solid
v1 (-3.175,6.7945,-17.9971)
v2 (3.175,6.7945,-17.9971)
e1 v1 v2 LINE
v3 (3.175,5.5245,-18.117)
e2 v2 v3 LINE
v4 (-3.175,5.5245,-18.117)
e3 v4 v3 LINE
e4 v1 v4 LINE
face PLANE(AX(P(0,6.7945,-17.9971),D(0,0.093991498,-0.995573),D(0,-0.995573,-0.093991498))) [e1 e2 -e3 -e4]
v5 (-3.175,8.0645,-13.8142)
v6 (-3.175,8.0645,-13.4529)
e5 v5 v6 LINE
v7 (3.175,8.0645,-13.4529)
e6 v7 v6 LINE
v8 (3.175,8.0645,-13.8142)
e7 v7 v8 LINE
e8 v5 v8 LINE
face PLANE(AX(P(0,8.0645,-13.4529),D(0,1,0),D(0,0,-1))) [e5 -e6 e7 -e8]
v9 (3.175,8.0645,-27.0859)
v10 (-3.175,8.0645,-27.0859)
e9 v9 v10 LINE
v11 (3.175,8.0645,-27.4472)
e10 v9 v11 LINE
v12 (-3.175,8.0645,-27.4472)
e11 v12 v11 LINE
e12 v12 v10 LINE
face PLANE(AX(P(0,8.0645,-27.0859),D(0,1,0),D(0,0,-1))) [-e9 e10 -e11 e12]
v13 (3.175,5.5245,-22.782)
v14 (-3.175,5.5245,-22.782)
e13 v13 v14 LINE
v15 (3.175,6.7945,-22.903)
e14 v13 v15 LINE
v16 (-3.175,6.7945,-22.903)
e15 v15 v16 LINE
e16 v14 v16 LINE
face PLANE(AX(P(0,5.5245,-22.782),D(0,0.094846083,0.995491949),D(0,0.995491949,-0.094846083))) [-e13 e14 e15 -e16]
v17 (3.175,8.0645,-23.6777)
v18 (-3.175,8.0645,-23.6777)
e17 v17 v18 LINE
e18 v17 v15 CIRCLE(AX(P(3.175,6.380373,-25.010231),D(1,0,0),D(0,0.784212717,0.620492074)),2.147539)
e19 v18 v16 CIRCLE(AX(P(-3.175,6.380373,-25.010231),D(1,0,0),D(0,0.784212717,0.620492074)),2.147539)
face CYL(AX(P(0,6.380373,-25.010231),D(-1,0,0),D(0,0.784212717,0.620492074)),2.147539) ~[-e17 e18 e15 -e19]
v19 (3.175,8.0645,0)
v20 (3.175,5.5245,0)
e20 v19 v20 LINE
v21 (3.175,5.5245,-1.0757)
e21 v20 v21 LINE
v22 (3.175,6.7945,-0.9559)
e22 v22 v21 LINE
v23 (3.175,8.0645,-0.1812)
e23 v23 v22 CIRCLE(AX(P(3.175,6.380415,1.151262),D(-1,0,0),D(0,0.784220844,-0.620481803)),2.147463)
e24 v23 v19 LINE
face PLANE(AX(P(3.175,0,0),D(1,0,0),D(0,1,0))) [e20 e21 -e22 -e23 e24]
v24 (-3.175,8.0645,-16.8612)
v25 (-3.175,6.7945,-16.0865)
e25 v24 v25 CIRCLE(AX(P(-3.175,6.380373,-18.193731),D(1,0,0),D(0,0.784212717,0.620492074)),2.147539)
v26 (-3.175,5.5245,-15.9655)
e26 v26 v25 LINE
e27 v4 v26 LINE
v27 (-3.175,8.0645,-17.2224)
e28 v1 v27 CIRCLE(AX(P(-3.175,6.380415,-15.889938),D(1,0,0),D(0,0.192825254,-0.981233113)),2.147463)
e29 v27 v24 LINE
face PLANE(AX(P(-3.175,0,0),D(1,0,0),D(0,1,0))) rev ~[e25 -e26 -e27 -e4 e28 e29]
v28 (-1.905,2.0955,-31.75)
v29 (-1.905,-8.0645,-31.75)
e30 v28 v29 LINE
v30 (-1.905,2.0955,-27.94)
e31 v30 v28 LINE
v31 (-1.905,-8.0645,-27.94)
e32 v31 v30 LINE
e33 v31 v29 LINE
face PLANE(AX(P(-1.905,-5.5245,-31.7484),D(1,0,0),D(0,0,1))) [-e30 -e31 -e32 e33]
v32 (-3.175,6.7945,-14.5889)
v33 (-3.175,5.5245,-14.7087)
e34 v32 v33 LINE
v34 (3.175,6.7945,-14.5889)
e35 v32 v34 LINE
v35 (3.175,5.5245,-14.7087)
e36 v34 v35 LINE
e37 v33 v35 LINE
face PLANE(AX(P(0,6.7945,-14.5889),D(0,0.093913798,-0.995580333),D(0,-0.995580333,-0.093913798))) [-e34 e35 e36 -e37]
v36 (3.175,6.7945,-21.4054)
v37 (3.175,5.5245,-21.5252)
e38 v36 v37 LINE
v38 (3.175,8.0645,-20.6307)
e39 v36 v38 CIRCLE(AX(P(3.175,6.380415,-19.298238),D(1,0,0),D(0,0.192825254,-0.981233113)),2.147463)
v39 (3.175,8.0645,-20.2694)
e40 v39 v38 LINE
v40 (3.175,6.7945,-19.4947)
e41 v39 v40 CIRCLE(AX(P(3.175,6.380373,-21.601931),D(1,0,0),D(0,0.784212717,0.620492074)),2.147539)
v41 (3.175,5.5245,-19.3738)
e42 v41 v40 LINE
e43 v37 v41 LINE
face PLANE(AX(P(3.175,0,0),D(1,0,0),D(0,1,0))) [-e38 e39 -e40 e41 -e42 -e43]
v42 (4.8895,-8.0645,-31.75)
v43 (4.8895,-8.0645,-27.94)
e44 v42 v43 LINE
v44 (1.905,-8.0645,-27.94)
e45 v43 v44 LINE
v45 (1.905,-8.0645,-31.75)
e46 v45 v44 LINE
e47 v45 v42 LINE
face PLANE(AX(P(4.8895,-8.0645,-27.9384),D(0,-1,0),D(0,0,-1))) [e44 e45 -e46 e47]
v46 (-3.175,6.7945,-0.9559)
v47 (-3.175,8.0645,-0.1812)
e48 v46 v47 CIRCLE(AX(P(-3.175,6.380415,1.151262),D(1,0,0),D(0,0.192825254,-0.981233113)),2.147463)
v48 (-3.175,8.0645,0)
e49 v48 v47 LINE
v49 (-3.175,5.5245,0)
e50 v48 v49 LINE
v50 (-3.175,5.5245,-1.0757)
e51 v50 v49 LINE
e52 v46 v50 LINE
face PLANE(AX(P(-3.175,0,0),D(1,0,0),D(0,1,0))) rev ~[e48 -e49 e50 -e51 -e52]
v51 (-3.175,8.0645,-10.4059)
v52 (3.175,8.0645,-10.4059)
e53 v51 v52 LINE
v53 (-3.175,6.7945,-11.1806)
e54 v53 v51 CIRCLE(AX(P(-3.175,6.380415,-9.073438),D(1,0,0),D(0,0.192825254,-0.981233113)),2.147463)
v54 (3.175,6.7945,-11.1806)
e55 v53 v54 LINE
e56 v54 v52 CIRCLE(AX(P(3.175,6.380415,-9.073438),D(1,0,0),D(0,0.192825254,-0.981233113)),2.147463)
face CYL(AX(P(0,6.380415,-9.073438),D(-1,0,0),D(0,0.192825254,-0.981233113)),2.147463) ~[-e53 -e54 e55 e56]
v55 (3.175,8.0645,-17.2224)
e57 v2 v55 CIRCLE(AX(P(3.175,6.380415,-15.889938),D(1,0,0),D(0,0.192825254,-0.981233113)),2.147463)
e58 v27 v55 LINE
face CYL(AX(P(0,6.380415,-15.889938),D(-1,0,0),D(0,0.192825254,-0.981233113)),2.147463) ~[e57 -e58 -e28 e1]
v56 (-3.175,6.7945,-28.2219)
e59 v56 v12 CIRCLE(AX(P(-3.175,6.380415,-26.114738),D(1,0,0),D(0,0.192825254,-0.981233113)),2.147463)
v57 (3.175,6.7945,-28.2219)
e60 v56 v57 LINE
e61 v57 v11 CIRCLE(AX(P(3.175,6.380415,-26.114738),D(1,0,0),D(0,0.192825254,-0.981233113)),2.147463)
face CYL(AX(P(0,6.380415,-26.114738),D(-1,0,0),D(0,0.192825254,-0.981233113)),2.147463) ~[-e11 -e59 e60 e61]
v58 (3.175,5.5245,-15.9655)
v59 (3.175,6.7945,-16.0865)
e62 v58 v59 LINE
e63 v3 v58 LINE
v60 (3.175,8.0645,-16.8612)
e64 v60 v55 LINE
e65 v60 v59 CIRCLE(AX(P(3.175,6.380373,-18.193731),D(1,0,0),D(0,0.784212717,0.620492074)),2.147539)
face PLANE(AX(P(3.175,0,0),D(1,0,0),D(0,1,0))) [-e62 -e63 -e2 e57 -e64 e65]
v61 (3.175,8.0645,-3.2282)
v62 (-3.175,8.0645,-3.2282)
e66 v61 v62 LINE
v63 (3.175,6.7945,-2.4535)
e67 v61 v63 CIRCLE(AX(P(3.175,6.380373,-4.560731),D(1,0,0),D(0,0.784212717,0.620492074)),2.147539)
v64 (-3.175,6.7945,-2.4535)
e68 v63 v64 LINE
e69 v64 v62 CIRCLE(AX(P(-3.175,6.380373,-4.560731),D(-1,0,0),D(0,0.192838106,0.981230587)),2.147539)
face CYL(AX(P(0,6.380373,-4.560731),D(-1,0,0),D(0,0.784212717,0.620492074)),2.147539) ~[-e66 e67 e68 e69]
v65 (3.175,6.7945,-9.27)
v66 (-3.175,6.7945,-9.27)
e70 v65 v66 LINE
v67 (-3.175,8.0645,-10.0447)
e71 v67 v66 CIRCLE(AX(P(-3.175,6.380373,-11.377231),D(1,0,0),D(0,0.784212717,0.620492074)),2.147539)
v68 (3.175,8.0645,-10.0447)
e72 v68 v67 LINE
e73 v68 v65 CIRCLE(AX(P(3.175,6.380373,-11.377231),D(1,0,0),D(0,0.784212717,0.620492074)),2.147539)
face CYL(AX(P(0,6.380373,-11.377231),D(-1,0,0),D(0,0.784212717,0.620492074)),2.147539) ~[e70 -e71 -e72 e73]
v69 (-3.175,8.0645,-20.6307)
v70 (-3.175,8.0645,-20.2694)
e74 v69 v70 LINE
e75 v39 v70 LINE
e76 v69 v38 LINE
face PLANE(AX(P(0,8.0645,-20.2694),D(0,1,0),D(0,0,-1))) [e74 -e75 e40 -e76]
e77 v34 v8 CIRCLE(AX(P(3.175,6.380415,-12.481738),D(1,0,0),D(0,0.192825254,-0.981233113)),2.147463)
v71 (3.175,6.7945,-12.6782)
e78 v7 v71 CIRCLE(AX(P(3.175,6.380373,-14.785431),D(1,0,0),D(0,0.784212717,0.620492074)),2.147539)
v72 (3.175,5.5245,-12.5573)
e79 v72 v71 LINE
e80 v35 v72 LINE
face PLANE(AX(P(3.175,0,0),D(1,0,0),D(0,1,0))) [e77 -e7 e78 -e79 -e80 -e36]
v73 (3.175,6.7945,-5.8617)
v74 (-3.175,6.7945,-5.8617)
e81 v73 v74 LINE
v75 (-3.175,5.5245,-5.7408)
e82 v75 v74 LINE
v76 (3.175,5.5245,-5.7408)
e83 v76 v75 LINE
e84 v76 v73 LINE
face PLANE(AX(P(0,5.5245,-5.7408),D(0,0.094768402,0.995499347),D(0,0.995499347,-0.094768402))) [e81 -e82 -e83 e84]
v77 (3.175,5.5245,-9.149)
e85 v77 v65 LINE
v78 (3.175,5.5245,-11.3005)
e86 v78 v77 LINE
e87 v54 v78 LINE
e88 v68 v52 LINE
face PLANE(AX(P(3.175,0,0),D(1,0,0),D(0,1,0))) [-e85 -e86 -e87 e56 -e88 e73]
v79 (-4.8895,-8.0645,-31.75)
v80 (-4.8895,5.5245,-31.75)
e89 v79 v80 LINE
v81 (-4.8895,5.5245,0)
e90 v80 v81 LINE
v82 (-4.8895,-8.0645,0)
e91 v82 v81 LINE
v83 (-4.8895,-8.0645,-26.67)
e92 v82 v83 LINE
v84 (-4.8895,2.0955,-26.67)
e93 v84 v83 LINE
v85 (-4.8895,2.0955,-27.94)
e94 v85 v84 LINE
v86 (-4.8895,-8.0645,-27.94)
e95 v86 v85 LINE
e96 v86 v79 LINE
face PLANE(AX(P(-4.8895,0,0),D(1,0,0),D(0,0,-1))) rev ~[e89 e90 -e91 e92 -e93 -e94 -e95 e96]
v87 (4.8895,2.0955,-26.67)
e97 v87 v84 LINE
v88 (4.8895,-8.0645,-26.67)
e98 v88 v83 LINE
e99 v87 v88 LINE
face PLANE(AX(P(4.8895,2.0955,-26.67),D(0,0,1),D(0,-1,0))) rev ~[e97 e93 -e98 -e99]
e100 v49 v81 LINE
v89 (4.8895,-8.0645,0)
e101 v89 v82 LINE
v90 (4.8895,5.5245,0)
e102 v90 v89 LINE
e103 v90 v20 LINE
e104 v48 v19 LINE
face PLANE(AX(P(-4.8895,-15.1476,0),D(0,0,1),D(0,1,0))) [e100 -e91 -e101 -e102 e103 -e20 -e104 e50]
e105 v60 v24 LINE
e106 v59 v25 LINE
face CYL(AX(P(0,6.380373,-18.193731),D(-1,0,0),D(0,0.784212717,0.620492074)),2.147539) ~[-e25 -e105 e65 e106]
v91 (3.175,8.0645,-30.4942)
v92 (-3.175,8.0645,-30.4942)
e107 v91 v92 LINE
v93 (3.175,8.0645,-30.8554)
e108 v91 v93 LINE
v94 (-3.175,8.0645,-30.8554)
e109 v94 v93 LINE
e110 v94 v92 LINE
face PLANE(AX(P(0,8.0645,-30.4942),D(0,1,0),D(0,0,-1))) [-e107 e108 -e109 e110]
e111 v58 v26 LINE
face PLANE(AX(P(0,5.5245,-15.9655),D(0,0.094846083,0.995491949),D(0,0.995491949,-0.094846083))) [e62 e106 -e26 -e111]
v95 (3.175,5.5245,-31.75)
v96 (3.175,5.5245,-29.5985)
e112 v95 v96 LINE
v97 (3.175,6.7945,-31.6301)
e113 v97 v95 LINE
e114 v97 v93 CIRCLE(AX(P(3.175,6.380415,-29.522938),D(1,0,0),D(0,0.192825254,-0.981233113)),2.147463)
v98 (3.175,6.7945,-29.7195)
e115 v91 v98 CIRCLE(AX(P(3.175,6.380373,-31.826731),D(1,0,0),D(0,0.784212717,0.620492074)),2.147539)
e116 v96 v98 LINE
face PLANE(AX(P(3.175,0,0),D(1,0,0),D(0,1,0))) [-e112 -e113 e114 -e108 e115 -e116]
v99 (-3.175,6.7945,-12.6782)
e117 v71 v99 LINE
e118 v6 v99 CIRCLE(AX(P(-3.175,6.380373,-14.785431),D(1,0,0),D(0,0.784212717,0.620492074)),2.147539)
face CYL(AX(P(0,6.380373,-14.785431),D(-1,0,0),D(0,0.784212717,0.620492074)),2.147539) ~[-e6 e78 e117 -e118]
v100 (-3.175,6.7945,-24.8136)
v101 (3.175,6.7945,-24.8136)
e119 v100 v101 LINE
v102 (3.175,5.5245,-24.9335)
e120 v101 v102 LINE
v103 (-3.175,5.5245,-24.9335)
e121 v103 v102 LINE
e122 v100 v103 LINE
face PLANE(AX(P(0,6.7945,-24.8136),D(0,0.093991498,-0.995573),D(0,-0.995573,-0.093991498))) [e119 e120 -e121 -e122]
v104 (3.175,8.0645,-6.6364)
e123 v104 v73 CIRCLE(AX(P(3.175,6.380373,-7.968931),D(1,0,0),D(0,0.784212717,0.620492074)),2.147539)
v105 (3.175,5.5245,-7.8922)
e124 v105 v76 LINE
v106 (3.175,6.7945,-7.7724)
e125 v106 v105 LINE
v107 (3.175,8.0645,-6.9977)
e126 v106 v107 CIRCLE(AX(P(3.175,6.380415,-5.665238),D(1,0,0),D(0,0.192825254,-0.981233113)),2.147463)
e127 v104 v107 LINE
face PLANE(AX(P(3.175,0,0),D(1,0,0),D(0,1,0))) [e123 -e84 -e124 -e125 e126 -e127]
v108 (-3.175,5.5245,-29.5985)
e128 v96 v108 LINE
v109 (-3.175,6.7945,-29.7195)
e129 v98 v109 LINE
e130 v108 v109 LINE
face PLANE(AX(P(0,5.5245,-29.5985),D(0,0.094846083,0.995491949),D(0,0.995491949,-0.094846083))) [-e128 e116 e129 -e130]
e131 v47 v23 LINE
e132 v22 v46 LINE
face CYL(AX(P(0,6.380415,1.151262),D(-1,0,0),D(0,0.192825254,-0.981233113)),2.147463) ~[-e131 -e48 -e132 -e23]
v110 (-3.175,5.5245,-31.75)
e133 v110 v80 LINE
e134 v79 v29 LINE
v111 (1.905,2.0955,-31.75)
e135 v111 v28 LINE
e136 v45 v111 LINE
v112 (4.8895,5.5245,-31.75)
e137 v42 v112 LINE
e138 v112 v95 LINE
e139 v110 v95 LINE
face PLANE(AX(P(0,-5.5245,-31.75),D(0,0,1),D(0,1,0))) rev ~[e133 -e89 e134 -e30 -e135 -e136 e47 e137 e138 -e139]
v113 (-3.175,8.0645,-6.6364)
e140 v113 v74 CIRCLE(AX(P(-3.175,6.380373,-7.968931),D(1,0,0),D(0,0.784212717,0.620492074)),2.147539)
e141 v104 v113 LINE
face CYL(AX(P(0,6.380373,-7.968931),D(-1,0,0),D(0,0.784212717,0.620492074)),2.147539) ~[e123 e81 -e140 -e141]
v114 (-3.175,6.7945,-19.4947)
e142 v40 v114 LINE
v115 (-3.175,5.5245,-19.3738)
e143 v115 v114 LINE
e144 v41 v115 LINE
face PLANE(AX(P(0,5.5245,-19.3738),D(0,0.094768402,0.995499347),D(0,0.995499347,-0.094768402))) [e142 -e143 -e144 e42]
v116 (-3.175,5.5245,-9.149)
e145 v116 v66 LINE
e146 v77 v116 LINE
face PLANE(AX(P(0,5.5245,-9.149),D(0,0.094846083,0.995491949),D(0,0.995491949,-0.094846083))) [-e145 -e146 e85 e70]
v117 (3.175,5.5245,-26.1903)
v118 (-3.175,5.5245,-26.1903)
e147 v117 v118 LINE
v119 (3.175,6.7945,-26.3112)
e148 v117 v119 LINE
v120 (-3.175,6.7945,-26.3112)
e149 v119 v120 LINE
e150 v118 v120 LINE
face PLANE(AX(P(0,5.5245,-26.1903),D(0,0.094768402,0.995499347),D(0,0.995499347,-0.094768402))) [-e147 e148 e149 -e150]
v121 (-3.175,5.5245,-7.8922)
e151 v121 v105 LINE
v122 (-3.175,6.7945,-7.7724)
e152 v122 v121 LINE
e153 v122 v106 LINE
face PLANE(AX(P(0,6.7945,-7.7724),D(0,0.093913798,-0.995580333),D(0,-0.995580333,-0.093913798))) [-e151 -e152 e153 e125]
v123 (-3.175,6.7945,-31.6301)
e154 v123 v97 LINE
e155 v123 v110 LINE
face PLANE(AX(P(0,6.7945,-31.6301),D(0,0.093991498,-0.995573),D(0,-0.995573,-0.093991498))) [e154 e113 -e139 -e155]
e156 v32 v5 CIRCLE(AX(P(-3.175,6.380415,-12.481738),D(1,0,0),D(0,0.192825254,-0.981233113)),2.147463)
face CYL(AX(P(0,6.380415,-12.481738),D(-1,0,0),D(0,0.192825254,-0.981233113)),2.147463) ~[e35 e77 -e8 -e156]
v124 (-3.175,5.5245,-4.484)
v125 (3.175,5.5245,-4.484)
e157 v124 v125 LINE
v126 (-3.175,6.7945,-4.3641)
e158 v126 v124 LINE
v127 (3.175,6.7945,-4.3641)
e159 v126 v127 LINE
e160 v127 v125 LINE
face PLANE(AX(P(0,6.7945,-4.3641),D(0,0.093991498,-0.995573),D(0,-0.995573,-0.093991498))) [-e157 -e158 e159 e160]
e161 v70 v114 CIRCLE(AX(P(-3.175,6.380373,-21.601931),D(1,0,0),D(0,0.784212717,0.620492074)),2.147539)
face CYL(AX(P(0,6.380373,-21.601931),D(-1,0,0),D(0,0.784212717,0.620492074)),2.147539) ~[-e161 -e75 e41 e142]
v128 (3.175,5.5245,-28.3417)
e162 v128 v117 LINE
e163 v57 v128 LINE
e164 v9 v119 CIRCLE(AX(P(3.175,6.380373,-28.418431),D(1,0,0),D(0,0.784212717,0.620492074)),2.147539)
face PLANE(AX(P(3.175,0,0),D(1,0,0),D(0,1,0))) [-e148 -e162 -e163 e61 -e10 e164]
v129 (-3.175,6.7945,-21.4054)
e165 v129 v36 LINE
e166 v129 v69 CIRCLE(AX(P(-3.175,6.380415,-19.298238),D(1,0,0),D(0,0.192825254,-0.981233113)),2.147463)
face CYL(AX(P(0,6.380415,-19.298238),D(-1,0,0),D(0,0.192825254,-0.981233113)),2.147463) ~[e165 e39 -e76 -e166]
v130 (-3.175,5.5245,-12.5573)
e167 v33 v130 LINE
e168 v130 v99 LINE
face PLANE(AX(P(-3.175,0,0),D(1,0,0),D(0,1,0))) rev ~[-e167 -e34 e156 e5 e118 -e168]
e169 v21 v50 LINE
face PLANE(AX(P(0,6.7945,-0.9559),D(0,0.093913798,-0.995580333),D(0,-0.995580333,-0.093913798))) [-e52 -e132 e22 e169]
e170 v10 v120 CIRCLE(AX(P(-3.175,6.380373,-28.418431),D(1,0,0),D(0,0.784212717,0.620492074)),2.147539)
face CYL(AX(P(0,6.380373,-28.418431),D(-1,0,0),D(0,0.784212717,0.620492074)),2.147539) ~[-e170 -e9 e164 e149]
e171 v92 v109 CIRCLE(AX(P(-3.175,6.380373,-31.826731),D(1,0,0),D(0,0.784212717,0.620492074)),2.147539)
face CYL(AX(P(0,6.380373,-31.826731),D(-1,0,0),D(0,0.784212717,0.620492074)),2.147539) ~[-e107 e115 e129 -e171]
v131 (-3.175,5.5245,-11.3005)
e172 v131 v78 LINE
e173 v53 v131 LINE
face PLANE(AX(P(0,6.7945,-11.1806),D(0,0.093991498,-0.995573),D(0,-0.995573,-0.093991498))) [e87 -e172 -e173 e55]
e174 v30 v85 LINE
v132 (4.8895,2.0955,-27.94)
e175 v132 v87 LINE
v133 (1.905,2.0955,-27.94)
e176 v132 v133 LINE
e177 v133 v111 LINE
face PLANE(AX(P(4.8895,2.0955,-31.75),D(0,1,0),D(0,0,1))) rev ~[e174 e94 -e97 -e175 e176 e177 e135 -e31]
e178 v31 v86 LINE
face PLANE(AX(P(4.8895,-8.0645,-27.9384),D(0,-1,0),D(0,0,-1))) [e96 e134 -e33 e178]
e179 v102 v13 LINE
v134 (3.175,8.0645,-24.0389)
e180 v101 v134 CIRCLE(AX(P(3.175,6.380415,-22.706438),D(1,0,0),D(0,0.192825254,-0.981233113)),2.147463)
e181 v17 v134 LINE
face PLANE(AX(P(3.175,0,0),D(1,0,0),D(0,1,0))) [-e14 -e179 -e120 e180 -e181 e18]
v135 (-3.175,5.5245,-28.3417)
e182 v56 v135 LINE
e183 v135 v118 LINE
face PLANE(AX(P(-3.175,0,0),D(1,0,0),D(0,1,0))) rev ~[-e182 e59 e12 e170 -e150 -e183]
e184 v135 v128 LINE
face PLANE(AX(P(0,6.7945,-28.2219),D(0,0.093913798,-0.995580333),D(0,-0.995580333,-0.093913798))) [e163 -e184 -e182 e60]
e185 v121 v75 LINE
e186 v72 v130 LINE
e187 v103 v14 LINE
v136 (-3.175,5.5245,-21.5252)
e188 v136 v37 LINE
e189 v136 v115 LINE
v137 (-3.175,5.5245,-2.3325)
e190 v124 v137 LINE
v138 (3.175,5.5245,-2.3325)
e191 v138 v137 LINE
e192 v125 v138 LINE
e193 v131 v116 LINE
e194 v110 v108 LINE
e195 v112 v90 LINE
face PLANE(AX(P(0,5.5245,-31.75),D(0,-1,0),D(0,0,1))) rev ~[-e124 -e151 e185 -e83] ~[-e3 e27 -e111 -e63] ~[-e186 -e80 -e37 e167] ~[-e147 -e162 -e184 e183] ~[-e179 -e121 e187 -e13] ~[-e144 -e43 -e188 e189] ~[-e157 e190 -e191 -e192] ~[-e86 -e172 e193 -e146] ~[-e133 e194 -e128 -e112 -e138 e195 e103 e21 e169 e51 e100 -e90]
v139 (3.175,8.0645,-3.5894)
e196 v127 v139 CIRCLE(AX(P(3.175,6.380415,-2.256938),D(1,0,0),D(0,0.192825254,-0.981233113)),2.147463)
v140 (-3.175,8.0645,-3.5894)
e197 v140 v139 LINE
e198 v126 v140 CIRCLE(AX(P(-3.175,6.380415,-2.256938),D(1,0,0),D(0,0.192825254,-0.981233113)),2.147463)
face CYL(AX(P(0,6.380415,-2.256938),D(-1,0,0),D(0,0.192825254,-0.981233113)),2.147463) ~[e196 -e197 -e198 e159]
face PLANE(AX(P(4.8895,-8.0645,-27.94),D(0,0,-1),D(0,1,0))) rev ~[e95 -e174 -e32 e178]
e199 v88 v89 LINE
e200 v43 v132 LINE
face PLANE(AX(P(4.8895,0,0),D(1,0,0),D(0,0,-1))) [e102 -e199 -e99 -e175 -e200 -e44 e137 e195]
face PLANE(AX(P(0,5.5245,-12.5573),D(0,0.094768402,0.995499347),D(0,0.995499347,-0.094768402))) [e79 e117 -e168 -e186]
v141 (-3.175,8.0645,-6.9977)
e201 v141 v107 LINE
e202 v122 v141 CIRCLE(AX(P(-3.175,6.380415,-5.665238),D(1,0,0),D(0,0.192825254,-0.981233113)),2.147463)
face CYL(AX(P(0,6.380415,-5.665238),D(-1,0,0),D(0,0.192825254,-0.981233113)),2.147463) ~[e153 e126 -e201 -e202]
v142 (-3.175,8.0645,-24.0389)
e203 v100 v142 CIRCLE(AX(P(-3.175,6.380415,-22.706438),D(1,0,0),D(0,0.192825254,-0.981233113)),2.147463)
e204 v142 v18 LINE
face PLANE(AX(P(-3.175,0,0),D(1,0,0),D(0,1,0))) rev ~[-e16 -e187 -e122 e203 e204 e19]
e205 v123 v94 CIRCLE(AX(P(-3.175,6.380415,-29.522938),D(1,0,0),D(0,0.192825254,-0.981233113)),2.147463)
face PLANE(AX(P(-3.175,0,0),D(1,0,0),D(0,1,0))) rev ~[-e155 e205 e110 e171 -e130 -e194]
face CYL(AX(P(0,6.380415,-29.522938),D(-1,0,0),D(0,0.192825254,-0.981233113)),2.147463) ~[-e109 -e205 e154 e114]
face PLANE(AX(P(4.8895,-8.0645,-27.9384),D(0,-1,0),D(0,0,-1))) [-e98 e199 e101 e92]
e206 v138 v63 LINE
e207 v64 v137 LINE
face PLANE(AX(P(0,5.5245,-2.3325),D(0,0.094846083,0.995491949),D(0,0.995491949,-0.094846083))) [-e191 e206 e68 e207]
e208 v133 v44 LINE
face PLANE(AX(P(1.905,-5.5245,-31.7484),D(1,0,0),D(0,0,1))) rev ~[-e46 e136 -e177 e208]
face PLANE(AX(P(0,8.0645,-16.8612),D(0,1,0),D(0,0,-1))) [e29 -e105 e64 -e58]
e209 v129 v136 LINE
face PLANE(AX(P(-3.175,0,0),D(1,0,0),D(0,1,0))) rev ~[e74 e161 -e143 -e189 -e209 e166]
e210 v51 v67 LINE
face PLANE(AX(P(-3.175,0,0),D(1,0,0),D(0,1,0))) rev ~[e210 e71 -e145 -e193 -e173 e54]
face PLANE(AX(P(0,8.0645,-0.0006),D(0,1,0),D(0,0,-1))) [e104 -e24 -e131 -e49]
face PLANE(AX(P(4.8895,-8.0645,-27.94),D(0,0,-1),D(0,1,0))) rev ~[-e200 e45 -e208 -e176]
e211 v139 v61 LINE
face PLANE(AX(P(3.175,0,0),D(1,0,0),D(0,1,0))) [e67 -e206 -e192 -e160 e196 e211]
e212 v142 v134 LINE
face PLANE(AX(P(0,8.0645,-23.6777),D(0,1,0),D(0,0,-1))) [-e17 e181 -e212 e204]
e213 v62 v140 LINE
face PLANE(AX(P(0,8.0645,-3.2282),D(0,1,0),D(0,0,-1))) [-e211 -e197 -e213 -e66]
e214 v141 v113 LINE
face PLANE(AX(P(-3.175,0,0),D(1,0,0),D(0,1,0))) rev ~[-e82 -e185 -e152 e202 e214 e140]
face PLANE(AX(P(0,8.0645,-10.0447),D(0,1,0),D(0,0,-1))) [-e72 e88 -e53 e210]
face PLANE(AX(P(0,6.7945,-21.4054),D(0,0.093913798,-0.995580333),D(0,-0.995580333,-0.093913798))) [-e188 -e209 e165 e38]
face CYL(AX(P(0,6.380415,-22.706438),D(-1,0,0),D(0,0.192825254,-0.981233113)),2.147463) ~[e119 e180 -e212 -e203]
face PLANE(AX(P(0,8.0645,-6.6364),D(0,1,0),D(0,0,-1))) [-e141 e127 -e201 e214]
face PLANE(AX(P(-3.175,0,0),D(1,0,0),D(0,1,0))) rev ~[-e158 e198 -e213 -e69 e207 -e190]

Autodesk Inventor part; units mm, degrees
ref_plane "YZ Plane" through (0, 0, 0) normal (1, 0, 0) x (0, 1, 0)
ref_plane "XZ Plane" through (0, 0, 0) normal (0, 1, 0) x (-1, 0, 0)
ref_plane "XY Plane" through (0, 0, 0) normal (0, 0, 1) x (1, 0, 0)
sketch "Sketch2" plane through (0, 0, 0) normal (1, 0, 0) x (0, 1, 0)
  line L0 (-5.5245, 31.75) -> (-5.5245, -31.75)
  line L1 (-5.5245, -31.75) -> (5.5245, -31.75)
  line L2 (5.5245, -31.75) -> (5.5245, 31.75)
  line L3 (5.5245, 31.75) -> (-5.5245, 31.75)
  line L4 (-5.5245, 31.75) -> (5.5245, -31.75) construction
  line L5 (-5.5245, -31.75) -> (5.5245, 31.75) construction
  point P0 (0, 0)
  dimension "d4" = 63.5
  dimension "d5" = 11.049
extrude "Extrusion2" add sketch "Sketch2" along normal mid plane 9.779
sketch "Sketch3" plane through (0, 0, 0) normal (1, 0, 0) x (0, 1, 0)
  line L0 (5.5245, -31.75) -> (5.5245, 31.75) projected
  line L1 (5.5245, 31.9532) -> (5.5245, 29.4132)
  line L2 (5.5245, 31.9532) -> (5.5245, 29.4132)
  arc A0 (8.0645, 30.8543) -> (6.7945, 31.629) centre (6.3804, 29.5218) ccw
  line L3 (8.0645, 30.6737) -> (7.6408, 30.6737)
  arc A1 (6.7945, 29.7184) -> (8.0645, 30.4931) centre (6.3804, 31.8256) ccw
  line L4 (8.0645, 30.8543) -> (8.0645, 30.4931)
  line L5 (5.5245, 31.75) -> (5.5245, -31.75)
  arc A2 (8.0642, -1.6042) -> (8.0645, -1.6033) centre (6.6313, -1.0154) ccw
  line L6 (6.7945, 31.629) -> (5.5245, 31.7489)
  line L7 (6.7945, 29.7184) -> (5.5245, 29.5986)
  line L8 (5.5245, 31.7489) -> (6.7945, 31.629)
  line L9 (6.7945, 29.7184) -> (5.5245, 29.5986)
  line L10 (5.5245, 29.5986) -> (5.5245, 31.7489)
  arc A3 (8.0645, 30.8543) -> (6.7945, 31.629) centre (6.3804, 29.5218) ccw
  arc A4 (6.7945, 29.7184) -> (8.0645, 30.4931) centre (6.3804, 31.8256) ccw
  line L11 (8.0645, 30.8543) -> (8.0645, 30.4931)
  line L12 (8.0645, 27.2655) -> (7.6408, 27.2655)
  line L13 (8.0645, 27.4461) -> (8.0645, 27.0848)
  line L14 (8.0645, 27.4461) -> (8.0645, 27.0848)
  arc A5 (6.7945, 26.3101) -> (8.0645, 27.0848) centre (6.3804, 28.4173) ccw
  arc A6 (8.0645, 27.4461) -> (6.7945, 28.2208) centre (6.3804, 26.1136) ccw
  arc A7 (6.7945, 26.3101) -> (8.0645, 27.0848) centre (6.3804, 28.4173) ccw
  arc A8 (8.0645, 27.4461) -> (6.7945, 28.2208) centre (6.3804, 26.1136) ccw
  line L15 (5.5245, 28.3417) -> (5.5245, -35.1582)
  line L16 (5.5245, 28.5449) -> (5.5245, 26.0049)
  line L17 (6.7945, 26.3101) -> (5.5245, 26.1903)
  line L18 (5.5245, 28.3406) -> (6.7945, 28.2208)
  line L19 (6.7945, 26.3101) -> (5.5245, 26.1903)
  line L20 (5.5245, 26.1903) -> (5.5245, 28.3406)
  line L21 (5.5245, 28.5449) -> (5.5245, 26.0049)
  line L22 (6.7945, 28.2208) -> (5.5245, 28.3406)
  line L23 (8.0645, 23.8572) -> (7.6408, 23.8572)
  line L24 (8.0645, 24.0378) -> (8.0645, 23.6766)
  line L25 (8.0645, 24.0378) -> (8.0645, 23.6766)
  arc A9 (6.7945, 22.9019) -> (8.0645, 23.6766) centre (6.3804, 25.0091) ccw
  arc A10 (8.0645, 24.0378) -> (6.7945, 24.8125) centre (6.3804, 22.7053) ccw
  arc A11 (6.7945, 22.9019) -> (8.0645, 23.6766) centre (6.3804, 25.0091) ccw
  arc A12 (8.0645, 24.0378) -> (6.7945, 24.8125) centre (6.3804, 22.7053) ccw
  line L26 (5.5245, 24.9335) -> (5.5245, -38.5665)
  line L27 (5.5245, 25.1367) -> (5.5245, 22.5967)
  line L28 (6.7945, 22.9019) -> (5.5245, 22.782)
  line L29 (5.5245, 24.9324) -> (6.7945, 24.8125)
  line L30 (6.7945, 22.9019) -> (5.5245, 22.782)
  line L31 (5.5245, 22.782) -> (5.5245, 24.9324)
  line L32 (5.5245, 25.1367) -> (5.5245, 22.5967)
  line L33 (6.7945, 24.8125) -> (5.5245, 24.9324)
  line L34 (8.0645, 20.449) -> (7.6408, 20.449)
  line L35 (8.0645, 20.6296) -> (8.0645, 20.2683)
  line L36 (8.0645, 20.6296) -> (8.0645, 20.2683)
  arc A13 (6.7945, 19.4936) -> (8.0645, 20.2683) centre (6.3804, 21.6008) ccw
  arc A14 (8.0645, 20.6296) -> (6.7945, 21.4043) centre (6.3804, 19.2971) ccw
  arc A15 (6.7945, 19.4936) -> (8.0645, 20.2683) centre (6.3804, 21.6008) ccw
  arc A16 (8.0645, 20.6296) -> (6.7945, 21.4043) centre (6.3804, 19.2971) ccw
  line L37 (5.5245, 21.5252) -> (5.5245, -41.9747)
  line L38 (5.5245, 21.7284) -> (5.5245, 19.1884)
  line L39 (6.7945, 19.4936) -> (5.5245, 19.3738)
  line L40 (5.5245, 21.5241) -> (6.7945, 21.4043)
  line L41 (6.7945, 19.4936) -> (5.5245, 19.3738)
  line L42 (5.5245, 19.3738) -> (5.5245, 21.5241)
  line L43 (5.5245, 21.7284) -> (5.5245, 19.1884)
  line L44 (6.7945, 21.4043) -> (5.5245, 21.5241)
  line L45 (8.0645, 17.0407) -> (7.6408, 17.0407)
  line L46 (8.0645, 17.2213) -> (8.0645, 16.8601)
  line L47 (8.0645, 17.2213) -> (8.0645, 16.8601)
  arc A17 (6.7945, 16.0854) -> (8.0645, 16.8601) centre (6.3804, 18.1926) ccw
  arc A18 (8.0645, 17.2213) -> (6.7945, 17.996) centre (6.3804, 15.8888) ccw
  arc A19 (6.7945, 16.0854) -> (8.0645, 16.8601) centre (6.3804, 18.1926) ccw
  arc A20 (8.0645, 17.2213) -> (6.7945, 17.996) centre (6.3804, 15.8888) ccw
  line L48 (5.5245, 18.117) -> (5.5245, -45.383)
  line L49 (5.5245, 18.3202) -> (5.5245, 15.7802)
  line L50 (6.7945, 16.0854) -> (5.5245, 15.9655)
  line L51 (5.5245, 18.1159) -> (6.7945, 17.996)
  line L52 (6.7945, 16.0854) -> (5.5245, 15.9655)
  line L53 (5.5245, 15.9655) -> (5.5245, 18.1159)
  line L54 (5.5245, 18.3202) -> (5.5245, 15.7802)
  line L55 (6.7945, 17.996) -> (5.5245, 18.1159)
  line L56 (8.0645, 13.6324) -> (7.6408, 13.6324)
  line L57 (8.0645, 13.8131) -> (8.0645, 13.4518)
  line L58 (8.0645, 13.8131) -> (8.0645, 13.4518)
  arc A21 (6.7945, 12.6771) -> (8.0645, 13.4518) centre (6.3804, 14.7843) ccw
  arc A22 (8.0645, 13.8131) -> (6.7945, 14.5878) centre (6.3804, 12.4806) ccw
  arc A23 (6.7945, 12.6771) -> (8.0645, 13.4518) centre (6.3804, 14.7843) ccw
  arc A24 (8.0645, 13.8131) -> (6.7945, 14.5878) centre (6.3804, 12.4806) ccw
  line L59 (5.5245, 14.7087) -> (5.5245, -48.7912)
  line L60 (5.5245, 14.9119) -> (5.5245, 12.3719)
  line L61 (6.7945, 12.6771) -> (5.5245, 12.5573)
  line L62 (5.5245, 14.7076) -> (6.7945, 14.5878)
  line L63 (6.7945, 12.6771) -> (5.5245, 12.5573)
  line L64 (5.5245, 12.5573) -> (5.5245, 14.7076)
  line L65 (5.5245, 14.9119) -> (5.5245, 12.3719)
  line L66 (6.7945, 14.5878) -> (5.5245, 14.7076)
  line L67 (8.0645, 10.2242) -> (7.6408, 10.2242)
  line L68 (8.0645, 10.4048) -> (8.0645, 10.0436)
  line L69 (8.0645, 10.4048) -> (8.0645, 10.0436)
  arc A25 (6.7945, 9.2689) -> (8.0645, 10.0436) centre (6.3804, 11.3761) ccw
  arc A26 (8.0645, 10.4048) -> (6.7945, 11.1795) centre (6.3804, 9.0723) ccw
  arc A27 (6.7945, 9.2689) -> (8.0645, 10.0436) centre (6.3804, 11.3761) ccw
  arc A28 (8.0645, 10.4048) -> (6.7945, 11.1795) centre (6.3804, 9.0723) ccw
  line L70 (5.5245, 11.3005) -> (5.5245, -52.1995)
  line L71 (5.5245, 11.5037) -> (5.5245, 8.9637)
  line L72 (6.7945, 9.2689) -> (5.5245, 9.149)
  line L73 (5.5245, 11.2994) -> (6.7945, 11.1795)
  line L74 (6.7945, 9.2689) -> (5.5245, 9.149)
  line L75 (5.5245, 9.149) -> (5.5245, 11.2994)
  line L76 (5.5245, 11.5037) -> (5.5245, 8.9637)
  line L77 (6.7945, 11.1795) -> (5.5245, 11.2994)
  line L78 (8.0645, 6.8159) -> (7.6408, 6.8159)
  line L79 (8.0645, 6.9966) -> (8.0645, 6.6353)
  line L80 (8.0645, 6.9966) -> (8.0645, 6.6353)
  arc A29 (6.7945, 5.8606) -> (8.0645, 6.6353) centre (6.3804, 7.9678) ccw
  arc A30 (8.0645, 6.9966) -> (6.7945, 7.7713) centre (6.3804, 5.6641) ccw
  arc A31 (6.7945, 5.8606) -> (8.0645, 6.6353) centre (6.3804, 7.9678) ccw
  arc A32 (8.0645, 6.9966) -> (6.7945, 7.7713) centre (6.3804, 5.6641) ccw
  line L81 (5.5245, 7.8922) -> (5.5245, -55.6077)
  line L82 (5.5245, 8.0954) -> (5.5245, 5.5554)
  line L83 (6.7945, 5.8606) -> (5.5245, 5.7408)
  line L84 (5.5245, 7.8911) -> (6.7945, 7.7713)
  line L85 (6.7945, 5.8606) -> (5.5245, 5.7408)
  line L86 (5.5245, 5.7408) -> (5.5245, 7.8911)
  line L87 (5.5245, 8.0954) -> (5.5245, 5.5554)
  line L88 (6.7945, 7.7713) -> (5.5245, 7.8911)
  line L89 (8.0645, 3.4077) -> (7.6408, 3.4077)
  line L90 (8.0645, 3.5883) -> (8.0645, 3.2271)
  line L91 (8.0645, 3.5883) -> (8.0645, 3.2271)
  arc A33 (6.7945, 2.4524) -> (8.0645, 3.2271) centre (6.3804, 4.5596) ccw
  arc A34 (8.0645, 3.5883) -> (6.7945, 4.363) centre (6.3804, 2.2558) ccw
  arc A35 (6.7945, 2.4524) -> (8.0645, 3.2271) centre (6.3804, 4.5596) ccw
  arc A36 (8.0645, 3.5883) -> (6.7945, 4.363) centre (6.3804, 2.2558) ccw
  line L92 (5.5245, 4.484) -> (5.5245, -59.016)
  line L93 (5.5245, 4.6872) -> (5.5245, 2.1472)
  line L94 (6.7945, 2.4524) -> (5.5245, 2.3325)
  line L95 (5.5245, 4.4829) -> (6.7945, 4.363)
  line L96 (6.7945, 2.4524) -> (5.5245, 2.3325)
  line L97 (5.5245, 2.3325) -> (5.5245, 4.4829)
  line L98 (5.5245, 4.6872) -> (5.5245, 2.1472)
  line L99 (6.7945, 4.363) -> (5.5245, 4.4829)
  line L100 (8.0645, -0.0006) -> (7.6408, -0.0006)
  line L101 (8.0645, 0.1801) -> (8.0645, -0.1812)
  line L102 (8.0645, 0.1801) -> (8.0645, -0.1812)
  arc A37 (6.7945, -0.9559) -> (8.0645, -0.1812) centre (6.3804, 1.1513) ccw
  arc A38 (8.0645, 0.1801) -> (6.7945, 0.9548) centre (6.3804, -1.1524) ccw
  arc A39 (6.7945, -0.9559) -> (8.0645, -0.1812) centre (6.3804, 1.1513) ccw
  arc A40 (8.0645, 0.1801) -> (6.7945, 0.9548) centre (6.3804, -1.1524) ccw
  line L103 (5.5245, 1.0757) -> (5.5245, -62.4242)
  line L104 (5.5245, 1.2789) -> (5.5245, -1.2611)
  line L105 (6.7945, -0.9559) -> (5.5245, -1.0757)
  line L106 (5.5245, 1.0746) -> (6.7945, 0.9548)
  line L107 (6.7945, -0.9559) -> (5.5245, -1.0757)
  line L108 (5.5245, -1.0757) -> (5.5245, 1.0746)
  line L109 (5.5245, 1.2789) -> (5.5245, -1.2611)
  line L110 (6.7945, 0.9548) -> (5.5245, 1.0746)
  line L111 (8.0645, -3.4088) -> (7.6408, -3.4088)
  line L112 (8.0645, -3.2282) -> (8.0645, -3.5894)
  line L113 (8.0645, -3.2282) -> (8.0645, -3.5894)
  arc A41 (6.7945, -4.3641) -> (8.0645, -3.5894) centre (6.3804, -2.2569) ccw
  arc A42 (8.0645, -3.2282) -> (6.7945, -2.4535) centre (6.3804, -4.5607) ccw
  arc A43 (6.7945, -4.3641) -> (8.0645, -3.5894) centre (6.3804, -2.2569) ccw
  arc A44 (8.0645, -3.2282) -> (6.7945, -2.4535) centre (6.3804, -4.5607) ccw
  line L114 (5.5245, -2.3325) -> (5.5245, -65.8325)
  line L115 (5.5245, -2.1293) -> (5.5245, -4.6693)
  line L116 (6.7945, -4.3641) -> (5.5245, -4.484)
  line L117 (5.5245, -2.3337) -> (6.7945, -2.4535)
  line L118 (6.7945, -4.3641) -> (5.5245, -4.484)
  line L119 (5.5245, -4.484) -> (5.5245, -2.3337)
  line L120 (5.5245, -2.1293) -> (5.5245, -4.6693)
  line L121 (6.7945, -2.4535) -> (5.5245, -2.3337)
  line L122 (8.0645, -6.8171) -> (7.6408, -6.8171)
  line L123 (8.0645, -6.6364) -> (8.0645, -6.9977)
  line L124 (8.0645, -6.6364) -> (8.0645, -6.9977)
  arc A45 (6.7945, -7.7724) -> (8.0645, -6.9977) centre (6.3804, -5.6652) ccw
  arc A46 (8.0645, -6.6364) -> (6.7945, -5.8617) centre (6.3804, -7.9689) ccw
  arc A47 (6.7945, -7.7724) -> (8.0645, -6.9977) centre (6.3804, -5.6652) ccw
  arc A48 (8.0645, -6.6364) -> (6.7945, -5.8617) centre (6.3804, -7.9689) ccw
  line L125 (5.5245, -5.7408) -> (5.5245, -69.2407)
  line L126 (5.5245, -5.5376) -> (5.5245, -8.0776)
  line L127 (6.7945, -7.7724) -> (5.5245, -7.8922)
  line L128 (5.5245, -5.7419) -> (6.7945, -5.8617)
  line L129 (6.7945, -7.7724) -> (5.5245, -7.8922)
  line L130 (5.5245, -7.8922) -> (5.5245, -5.7419)
  line L131 (5.5245, -5.5376) -> (5.5245, -8.0776)
  line L132 (6.7945, -5.8617) -> (5.5245, -5.7419)
  line L133 (8.0645, -10.2253) -> (7.6408, -10.2253)
  line L134 (8.0645, -10.0447) -> (8.0645, -10.4059)
  line L135 (8.0645, -10.0447) -> (8.0645, -10.4059)
  arc A49 (6.7945, -11.1806) -> (8.0645, -10.4059) centre (6.3804, -9.0734) ccw
  arc A50 (8.0645, -10.0447) -> (6.7945, -9.27) centre (6.3804, -11.3772) ccw
  arc A51 (6.7945, -11.1806) -> (8.0645, -10.4059) centre (6.3804, -9.0734) ccw
  arc A52 (8.0645, -10.0447) -> (6.7945, -9.27) centre (6.3804, -11.3772) ccw
  line L136 (5.5245, -9.149) -> (5.5245, -72.649)
  line L137 (5.5245, -8.9458) -> (5.5245, -11.4858)
  line L138 (6.7945, -11.1806) -> (5.5245, -11.3005)
  line L139 (5.5245, -9.1502) -> (6.7945, -9.27)
  line L140 (6.7945, -11.1806) -> (5.5245, -11.3005)
  line L141 (5.5245, -11.3005) -> (5.5245, -9.1502)
  line L142 (5.5245, -8.9458) -> (5.5245, -11.4858)
  line L143 (6.7945, -9.27) -> (5.5245, -9.1502)
  line L144 (8.0645, -13.6336) -> (7.6408, -13.6336)
  line L145 (8.0645, -13.4529) -> (8.0645, -13.8142)
  line L146 (8.0645, -13.4529) -> (8.0645, -13.8142)
  arc A53 (6.7945, -14.5889) -> (8.0645, -13.8142) centre (6.3804, -12.4817) ccw
  arc A54 (8.0645, -13.4529) -> (6.7945, -12.6782) centre (6.3804, -14.7854) ccw
  arc A55 (6.7945, -14.5889) -> (8.0645, -13.8142) centre (6.3804, -12.4817) ccw
  arc A56 (8.0645, -13.4529) -> (6.7945, -12.6782) centre (6.3804, -14.7854) ccw
  line L147 (5.5245, -12.5573) -> (5.5245, -76.0572)
  line L148 (5.5245, -12.3541) -> (5.5245, -14.8941)
  line L149 (6.7945, -14.5889) -> (5.5245, -14.7087)
  line L150 (5.5245, -12.5584) -> (6.7945, -12.6782)
  line L151 (6.7945, -14.5889) -> (5.5245, -14.7087)
  line L152 (5.5245, -14.7087) -> (5.5245, -12.5584)
  line L153 (5.5245, -12.3541) -> (5.5245, -14.8941)
  line L154 (6.7945, -12.6782) -> (5.5245, -12.5584)
  line L155 (8.0645, -17.0418) -> (7.6408, -17.0418)
  line L156 (8.0645, -16.8612) -> (8.0645, -17.2224)
  line L157 (8.0645, -16.8612) -> (8.0645, -17.2224)
  arc A57 (6.7945, -17.9971) -> (8.0645, -17.2224) centre (6.3804, -15.8899) ccw
  arc A58 (8.0645, -16.8612) -> (6.7945, -16.0865) centre (6.3804, -18.1937) ccw
  arc A59 (6.7945, -17.9971) -> (8.0645, -17.2224) centre (6.3804, -15.8899) ccw
  arc A60 (8.0645, -16.8612) -> (6.7945, -16.0865) centre (6.3804, -18.1937) ccw
  line L158 (5.5245, -15.9655) -> (5.5245, -79.4655)
  line L159 (5.5245, -15.7623) -> (5.5245, -18.3023)
  line L160 (6.7945, -17.9971) -> (5.5245, -18.117)
  line L161 (5.5245, -15.9667) -> (6.7945, -16.0865)
  line L162 (6.7945, -17.9971) -> (5.5245, -18.117)
  line L163 (5.5245, -18.117) -> (5.5245, -15.9667)
  line L164 (5.5245, -15.7623) -> (5.5245, -18.3023)
  line L165 (6.7945, -16.0865) -> (5.5245, -15.9667)
  line L166 (8.0645, -20.4501) -> (7.6408, -20.4501)
  line L167 (8.0645, -20.2694) -> (8.0645, -20.6307)
  line L168 (8.0645, -20.2694) -> (8.0645, -20.6307)
  arc A61 (6.7945, -21.4054) -> (8.0645, -20.6307) centre (6.3804, -19.2982) ccw
  arc A62 (8.0645, -20.2694) -> (6.7945, -19.4947) centre (6.3804, -21.6019) ccw
  arc A63 (6.7945, -21.4054) -> (8.0645, -20.6307) centre (6.3804, -19.2982) ccw
  arc A64 (8.0645, -20.2694) -> (6.7945, -19.4947) centre (6.3804, -21.6019) ccw
  line L169 (5.5245, -19.3738) -> (5.5245, -82.8737)
  line L170 (5.5245, -19.1706) -> (5.5245, -21.7106)
  line L171 (6.7945, -21.4054) -> (5.5245, -21.5252)
  line L172 (5.5245, -19.3749) -> (6.7945, -19.4947)
  line L173 (6.7945, -21.4054) -> (5.5245, -21.5252)
  line L174 (5.5245, -21.5252) -> (5.5245, -19.3749)
  line L175 (5.5245, -19.1706) -> (5.5245, -21.7106)
  line L176 (6.7945, -19.4947) -> (5.5245, -19.3749)
  line L177 (8.0645, -23.8583) -> (7.6408, -23.8583)
  line L178 (8.0645, -23.6777) -> (8.0645, -24.0389)
  line L179 (8.0645, -23.6777) -> (8.0645, -24.0389)
  arc A65 (6.7945, -24.8136) -> (8.0645, -24.0389) centre (6.3804, -22.7064) ccw
  arc A66 (8.0645, -23.6777) -> (6.7945, -22.903) centre (6.3804, -25.0102) ccw
  arc A67 (6.7945, -24.8136) -> (8.0645, -24.0389) centre (6.3804, -22.7064) ccw
  arc A68 (8.0645, -23.6777) -> (6.7945, -22.903) centre (6.3804, -25.0102) ccw
  line L180 (5.5245, -22.782) -> (5.5245, -86.282)
  line L181 (5.5245, -22.5788) -> (5.5245, -25.1188)
  line L182 (6.7945, -24.8136) -> (5.5245, -24.9335)
  line L183 (5.5245, -22.7832) -> (6.7945, -22.903)
  line L184 (6.7945, -24.8136) -> (5.5245, -24.9335)
  line L185 (5.5245, -24.9335) -> (5.5245, -22.7832)
  line L186 (5.5245, -22.5788) -> (5.5245, -25.1188)
  line L187 (6.7945, -22.903) -> (5.5245, -22.7832)
  line L188 (8.0645, -27.2666) -> (7.6408, -27.2666)
  line L189 (8.0645, -27.0859) -> (8.0645, -27.4472)
  line L190 (8.0645, -27.0859) -> (8.0645, -27.4472)
  arc A69 (6.7945, -28.2219) -> (8.0645, -27.4472) centre (6.3804, -26.1147) ccw
  arc A70 (8.0645, -27.0859) -> (6.7945, -26.3112) centre (6.3804, -28.4184) ccw
  arc A71 (6.7945, -28.2219) -> (8.0645, -27.4472) centre (6.3804, -26.1147) ccw
  arc A72 (8.0645, -27.0859) -> (6.7945, -26.3112) centre (6.3804, -28.4184) ccw
  line L191 (5.5245, -26.1903) -> (5.5245, -89.6902)
  line L192 (5.5245, -25.9871) -> (5.5245, -28.5271)
  line L193 (6.7945, -28.2219) -> (5.5245, -28.3417)
  line L194 (5.5245, -26.1914) -> (6.7945, -26.3112)
  line L195 (6.7945, -28.2219) -> (5.5245, -28.3417)
  line L196 (5.5245, -28.3417) -> (5.5245, -26.1914)
  line L197 (5.5245, -25.9871) -> (5.5245, -28.5271)
  line L198 (6.7945, -26.3112) -> (5.5245, -26.1914)
  line L199 (8.0645, -30.6748) -> (7.6408, -30.6748)
  line L200 (8.0645, -30.4942) -> (8.0645, -30.8554)
  line L201 (8.0645, -30.4942) -> (8.0645, -30.8554)
  arc A73 (6.7945, -31.6301) -> (8.0645, -30.8554) centre (6.3804, -29.5229) ccw
  arc A74 (8.0645, -30.4942) -> (6.7945, -29.7195) centre (6.3804, -31.8267) ccw
  arc A75 (6.7945, -31.6301) -> (8.0645, -30.8554) centre (6.3804, -29.5229) ccw
  arc A76 (8.0645, -30.4942) -> (6.7945, -29.7195) centre (6.3804, -31.8267) ccw
  line L202 (5.5245, -29.5985) -> (5.5245, -93.0985)
  line L203 (5.5245, -29.3953) -> (5.5245, -31.9353)
  line L204 (6.7945, -31.6301) -> (5.5245, -31.75)
  line L205 (5.5245, -29.5997) -> (6.7945, -29.7195)
  line L206 (6.7945, -31.6301) -> (5.5245, -31.75)
  line L207 (5.5245, -31.75) -> (5.5245, -29.5997)
  line L208 (5.5245, -29.3953) -> (5.5245, -31.9353)
  line L209 (6.7945, -29.7195) -> (5.5245, -29.5997)
  point P0 (0, 0)
  point P1 (6.7953, 29.7185)
  point P2 (6.7953, 26.3103)
  point P3 (6.7953, 22.902)
  point P4 (6.7953, 19.4938)
  point P5 (6.7953, 16.0855)
  point P6 (6.7953, 12.6773)
  point P7 (6.7953, 9.269)
  point P8 (6.7953, 5.8608)
  point P9 (6.7953, 2.4525)
  point P10 (6.7953, -0.9557)
  point P11 (6.7953, -4.364)
  point P12 (6.7953, -7.7722)
  point P13 (6.7953, -11.1805)
  point P14 (6.7953, -14.5887)
  point P15 (6.7953, -17.997)
  point P16 (6.7953, -21.4052)
  point P17 (6.7953, -24.8135)
  point P18 (6.7953, -28.2217)
  point P19 (6.7953, -31.63)
  dimension "d9" = 2.3368
  dimension "d63" = 84.61
  dimension "d64" = 84.61
  dimension "d74" = 3.4082
sketch "Sketch4" plane through (-4.8895, -5.5245, -31.75) normal (0, -1, 0) x (1, 0, 0)
  line L0 (2.032, 0.0016) -> (7.747, 0.0016) projected
  line L1 (4.8895, 0.0016) -> (6.7945, 0.0016)
  line L2 (4.8895, 0.0016) -> (2.9845, 0.0016)
  line L3 (6.7945, 0.0016) -> (2.032, 0.0016)
  line L4 (2.9845, -0.9507) -> (6.7945, -0.9507)
  line L5 (6.7945, -0.9507) -> (6.7945, 0.0016)
  line L6 (6.7945, 0.0016) -> (6.7945, 2.5416)
  line L7 (7.747, 2.5416) -> (2.032, 2.5416) projected
  line L8 (2.032, 2.5416) -> (0, 2.5416)
  line L9 (0, 63.5) -> (0, 0) projected
  line L10 (6.7945, 2.5416) -> (9.779, 2.5416)
  line L11 (9.779, 0) -> (9.779, 63.5) projected
  line L12 (9.779, 2.5416) -> (9.779, 3.8116)
  line L13 (9.779, 3.8116) -> (0, 3.8116)
  line L14 (0, 2.5416) -> (0, 3.8116)
  line L15 (2.9845, 0.0016) -> (2.9845, -0.9507)
  line L16 (2.9845, 0.0016) -> (2.9845, 2.5416)
  line L17 (2.032, 2.5416) -> (2.9845, 2.5416)
  point P0 (4.8895, 31.75)
  dimension "d28" = 1.905
  dimension "d29" = 1.905
  dimension "d31" = 2.54
  dimension "d32" = 1.27
extrude "Extrusion4" cut sketch "Sketch4" against normal blind 10.16
sketch "Sketch5" plane through (-4.8895, -5.5245, 31.75) normal (0, -1, 0) x (1, 0, 0)
  line L0 (0, -59.6884) -> (9.779, -59.6884) projected
  line L1 (9.779, 0) -> (9.779, -59.6884) projected
  line L2 (9.779, 0) -> (0, 0) projected
  line L3 (0, -59.6884) -> (0, 0) projected
  line L4 (2.9845, -60.9584) -> (0, -60.9584) projected
  line L5 (0, -63.5) -> (0, -60.9584) projected
  line L6 (0, -63.5) -> (2.9845, -63.5) projected
  line L7 (2.9845, -63.5) -> (2.9845, -60.9584) projected
  line L8 (9.779, -60.9584) -> (6.7945, -60.9584) projected
  line L9 (6.7945, -60.9584) -> (6.7945, -63.5) projected
  line L10 (6.7945, -63.5) -> (9.779, -63.5) projected
  line L11 (9.779, -60.9584) -> (9.779, -63.5) projected
  point P0 (4.8895, -31.75)
extrude "Extrusion6" add sketch "Sketch5" along normal blind 2.54
sketch "Sketch6" plane through (4.8895, 0, 0) normal (1, 0, 0) x (0, 0, -1)
  line L0 (31.75, 5.5245) -> (31.75, -8.0645) projected
  line L1 (27.9384, 4.6355) -> (31.75, 4.6355)
  line L2 (31.75, 4.6355) -> (31.75, 2.0955)
  line L3 (31.75, 2.0955) -> (27.9384, 2.0955)
  line L4 (27.9384, 2.0955) -> (27.9384, 4.6355)
  point P0 (0, 0)
  dimension "d60" = 2.54
extrude "Extrusion7" add sketch "Sketch6" against normal blind 9.779
extrude "Extrusion8" add sketch "Sketch3" along normal mid plane 6.35 contours L0 L6 A0 L4 A1 L7 | L0 L18 A6 L13 A5 L17 | L0 L29 A10 L24 A9 L28 | L0 L40 A14 L35 A13 L39 | L0 L51 A18 L46 A17 L50 | L0 L62 A22 L57 A21 L61 | L0 L73 A26 L68 A25 L72 | L0 L84 A30 L79 A29 L83 | L0 L95 A34 L90 A33 L94 | L0 L117 A2 A42 L112 A41 L116 | L0 L128 A46 L123 A45 L127 | L0 L139 A50 L134 A49 L138 | L0 L150 A54 L145 A53 L149 | L0 L161 A58 L156 A57 L160 | L0 L172 A62 L167 A61 L171 | L0 L183 A66 L178 A65 L182 | L0 L194 A70 L189 A69 L193 | L0 L205 A74 L200 A73 L204 | L117 A42 A2 | A2 A37 L105 L0 | L0 L106 A38 L101 L100 A2 | L100 L101 A37 A2
sketch "Sketch7" plane through (4.8895, 0, 0) normal (1, 0, 0) x (0, 0, -1)
  line L0 (29.2084, 2.0955) -> (31.75, 2.0955) projected
  line L1 (27.9384, 2.0955) -> (27.9384, -8.0645) projected
  line L2 (29.2084, 2.0955) -> (27.9384, 2.0955)
  line L3 (27.9384, 2.0955) -> (27.9384, -8.0645)
  line L4 (27.9384, -8.0645) -> (29.2084, -8.0645)
  line L5 (29.2084, -8.0645) -> (29.2084, 2.0955)
  line L6 (27.9384, -8.0645) -> (26.6684, -8.0645)
  line L7 (26.6684, -8.0645) -> (26.6684, 2.0955)
  line L8 (26.6684, 2.0955) -> (27.9384, 2.0955)
  line L9 (27.9384, 2.0955) -> (27.9384, -8.0645)
  point P0 (0, 0)
  dimension "d81" = 1.27
extrude "Extrusion9" add sketch "Sketch7" against normal blind 9.779 contours L2 L5 L4 L1
sketch "Sketch8" plane through (4.8895, 0, 0) normal (1, 0, 0) x (0, 0, -1)
  line L0 (31.75, -8.0645) -> (29.2084, -8.0645) projected
  line L1 (31.75, -8.0645) -> (27.94, -8.0645)
  line L2 (-31.75, -8.0645) -> (31.75, -8.0645) projected
  line L3 (27.94, -8.0645) -> (26.67, -8.0645)
  line L4 (27.94, -8.0645) -> (27.94, 2.0955)
  line L5 (27.94, 2.0955) -> (26.67, 2.0955)
  line L6 (26.67, 2.0955) -> (26.67, -8.0645)
  point P0 (0, 0)
  dimension "d84" = 3.81
  dimension "d85" = 1.27
  dimension "d86" = 10.16
extrude "Extrusion10" cut sketch "Sketch8" against normal blind 9.779
sketch "Sketch9" plane through (4.8895, -8.0645, -27.94) normal (0, 0, 1) x (1, 0, 0)
  line L0 (-6.7945, 0) -> (-6.7945, 10.16) projected
  line L1 (-2.9845, 10.16) -> (-6.7945, 10.16) projected
  line L2 (-2.9845, 10.16) -> (-2.9845, 0) projected
  line L3 (-2.9845, 0) -> (-6.7945, 0) projected
  point P0 (-4.8895, 8.0645)
extrude "Extrusion11" cut sketch "Sketch9" against normal blind 9.779
sketch "Sketch10" plane through (-4.8895, 0, 0) normal (-1, 0, 0) x (0, 0, 1)
  line L0 (0, 10.8635) -> (42.4338, 10.8635)
  line L1 (42.4338, 10.8635) -> (42.4338, -15.1476)
  line L2 (42.4338, -15.1476) -> (0, -15.1476)
  line L3 (0, -15.1476) -> (0, 10.8635)
  point P0 (0, 0)
extrude "Extrusion12" cut sketch "Sketch10" against normal blind 25.4
properties part number "Alligator_Rack"
